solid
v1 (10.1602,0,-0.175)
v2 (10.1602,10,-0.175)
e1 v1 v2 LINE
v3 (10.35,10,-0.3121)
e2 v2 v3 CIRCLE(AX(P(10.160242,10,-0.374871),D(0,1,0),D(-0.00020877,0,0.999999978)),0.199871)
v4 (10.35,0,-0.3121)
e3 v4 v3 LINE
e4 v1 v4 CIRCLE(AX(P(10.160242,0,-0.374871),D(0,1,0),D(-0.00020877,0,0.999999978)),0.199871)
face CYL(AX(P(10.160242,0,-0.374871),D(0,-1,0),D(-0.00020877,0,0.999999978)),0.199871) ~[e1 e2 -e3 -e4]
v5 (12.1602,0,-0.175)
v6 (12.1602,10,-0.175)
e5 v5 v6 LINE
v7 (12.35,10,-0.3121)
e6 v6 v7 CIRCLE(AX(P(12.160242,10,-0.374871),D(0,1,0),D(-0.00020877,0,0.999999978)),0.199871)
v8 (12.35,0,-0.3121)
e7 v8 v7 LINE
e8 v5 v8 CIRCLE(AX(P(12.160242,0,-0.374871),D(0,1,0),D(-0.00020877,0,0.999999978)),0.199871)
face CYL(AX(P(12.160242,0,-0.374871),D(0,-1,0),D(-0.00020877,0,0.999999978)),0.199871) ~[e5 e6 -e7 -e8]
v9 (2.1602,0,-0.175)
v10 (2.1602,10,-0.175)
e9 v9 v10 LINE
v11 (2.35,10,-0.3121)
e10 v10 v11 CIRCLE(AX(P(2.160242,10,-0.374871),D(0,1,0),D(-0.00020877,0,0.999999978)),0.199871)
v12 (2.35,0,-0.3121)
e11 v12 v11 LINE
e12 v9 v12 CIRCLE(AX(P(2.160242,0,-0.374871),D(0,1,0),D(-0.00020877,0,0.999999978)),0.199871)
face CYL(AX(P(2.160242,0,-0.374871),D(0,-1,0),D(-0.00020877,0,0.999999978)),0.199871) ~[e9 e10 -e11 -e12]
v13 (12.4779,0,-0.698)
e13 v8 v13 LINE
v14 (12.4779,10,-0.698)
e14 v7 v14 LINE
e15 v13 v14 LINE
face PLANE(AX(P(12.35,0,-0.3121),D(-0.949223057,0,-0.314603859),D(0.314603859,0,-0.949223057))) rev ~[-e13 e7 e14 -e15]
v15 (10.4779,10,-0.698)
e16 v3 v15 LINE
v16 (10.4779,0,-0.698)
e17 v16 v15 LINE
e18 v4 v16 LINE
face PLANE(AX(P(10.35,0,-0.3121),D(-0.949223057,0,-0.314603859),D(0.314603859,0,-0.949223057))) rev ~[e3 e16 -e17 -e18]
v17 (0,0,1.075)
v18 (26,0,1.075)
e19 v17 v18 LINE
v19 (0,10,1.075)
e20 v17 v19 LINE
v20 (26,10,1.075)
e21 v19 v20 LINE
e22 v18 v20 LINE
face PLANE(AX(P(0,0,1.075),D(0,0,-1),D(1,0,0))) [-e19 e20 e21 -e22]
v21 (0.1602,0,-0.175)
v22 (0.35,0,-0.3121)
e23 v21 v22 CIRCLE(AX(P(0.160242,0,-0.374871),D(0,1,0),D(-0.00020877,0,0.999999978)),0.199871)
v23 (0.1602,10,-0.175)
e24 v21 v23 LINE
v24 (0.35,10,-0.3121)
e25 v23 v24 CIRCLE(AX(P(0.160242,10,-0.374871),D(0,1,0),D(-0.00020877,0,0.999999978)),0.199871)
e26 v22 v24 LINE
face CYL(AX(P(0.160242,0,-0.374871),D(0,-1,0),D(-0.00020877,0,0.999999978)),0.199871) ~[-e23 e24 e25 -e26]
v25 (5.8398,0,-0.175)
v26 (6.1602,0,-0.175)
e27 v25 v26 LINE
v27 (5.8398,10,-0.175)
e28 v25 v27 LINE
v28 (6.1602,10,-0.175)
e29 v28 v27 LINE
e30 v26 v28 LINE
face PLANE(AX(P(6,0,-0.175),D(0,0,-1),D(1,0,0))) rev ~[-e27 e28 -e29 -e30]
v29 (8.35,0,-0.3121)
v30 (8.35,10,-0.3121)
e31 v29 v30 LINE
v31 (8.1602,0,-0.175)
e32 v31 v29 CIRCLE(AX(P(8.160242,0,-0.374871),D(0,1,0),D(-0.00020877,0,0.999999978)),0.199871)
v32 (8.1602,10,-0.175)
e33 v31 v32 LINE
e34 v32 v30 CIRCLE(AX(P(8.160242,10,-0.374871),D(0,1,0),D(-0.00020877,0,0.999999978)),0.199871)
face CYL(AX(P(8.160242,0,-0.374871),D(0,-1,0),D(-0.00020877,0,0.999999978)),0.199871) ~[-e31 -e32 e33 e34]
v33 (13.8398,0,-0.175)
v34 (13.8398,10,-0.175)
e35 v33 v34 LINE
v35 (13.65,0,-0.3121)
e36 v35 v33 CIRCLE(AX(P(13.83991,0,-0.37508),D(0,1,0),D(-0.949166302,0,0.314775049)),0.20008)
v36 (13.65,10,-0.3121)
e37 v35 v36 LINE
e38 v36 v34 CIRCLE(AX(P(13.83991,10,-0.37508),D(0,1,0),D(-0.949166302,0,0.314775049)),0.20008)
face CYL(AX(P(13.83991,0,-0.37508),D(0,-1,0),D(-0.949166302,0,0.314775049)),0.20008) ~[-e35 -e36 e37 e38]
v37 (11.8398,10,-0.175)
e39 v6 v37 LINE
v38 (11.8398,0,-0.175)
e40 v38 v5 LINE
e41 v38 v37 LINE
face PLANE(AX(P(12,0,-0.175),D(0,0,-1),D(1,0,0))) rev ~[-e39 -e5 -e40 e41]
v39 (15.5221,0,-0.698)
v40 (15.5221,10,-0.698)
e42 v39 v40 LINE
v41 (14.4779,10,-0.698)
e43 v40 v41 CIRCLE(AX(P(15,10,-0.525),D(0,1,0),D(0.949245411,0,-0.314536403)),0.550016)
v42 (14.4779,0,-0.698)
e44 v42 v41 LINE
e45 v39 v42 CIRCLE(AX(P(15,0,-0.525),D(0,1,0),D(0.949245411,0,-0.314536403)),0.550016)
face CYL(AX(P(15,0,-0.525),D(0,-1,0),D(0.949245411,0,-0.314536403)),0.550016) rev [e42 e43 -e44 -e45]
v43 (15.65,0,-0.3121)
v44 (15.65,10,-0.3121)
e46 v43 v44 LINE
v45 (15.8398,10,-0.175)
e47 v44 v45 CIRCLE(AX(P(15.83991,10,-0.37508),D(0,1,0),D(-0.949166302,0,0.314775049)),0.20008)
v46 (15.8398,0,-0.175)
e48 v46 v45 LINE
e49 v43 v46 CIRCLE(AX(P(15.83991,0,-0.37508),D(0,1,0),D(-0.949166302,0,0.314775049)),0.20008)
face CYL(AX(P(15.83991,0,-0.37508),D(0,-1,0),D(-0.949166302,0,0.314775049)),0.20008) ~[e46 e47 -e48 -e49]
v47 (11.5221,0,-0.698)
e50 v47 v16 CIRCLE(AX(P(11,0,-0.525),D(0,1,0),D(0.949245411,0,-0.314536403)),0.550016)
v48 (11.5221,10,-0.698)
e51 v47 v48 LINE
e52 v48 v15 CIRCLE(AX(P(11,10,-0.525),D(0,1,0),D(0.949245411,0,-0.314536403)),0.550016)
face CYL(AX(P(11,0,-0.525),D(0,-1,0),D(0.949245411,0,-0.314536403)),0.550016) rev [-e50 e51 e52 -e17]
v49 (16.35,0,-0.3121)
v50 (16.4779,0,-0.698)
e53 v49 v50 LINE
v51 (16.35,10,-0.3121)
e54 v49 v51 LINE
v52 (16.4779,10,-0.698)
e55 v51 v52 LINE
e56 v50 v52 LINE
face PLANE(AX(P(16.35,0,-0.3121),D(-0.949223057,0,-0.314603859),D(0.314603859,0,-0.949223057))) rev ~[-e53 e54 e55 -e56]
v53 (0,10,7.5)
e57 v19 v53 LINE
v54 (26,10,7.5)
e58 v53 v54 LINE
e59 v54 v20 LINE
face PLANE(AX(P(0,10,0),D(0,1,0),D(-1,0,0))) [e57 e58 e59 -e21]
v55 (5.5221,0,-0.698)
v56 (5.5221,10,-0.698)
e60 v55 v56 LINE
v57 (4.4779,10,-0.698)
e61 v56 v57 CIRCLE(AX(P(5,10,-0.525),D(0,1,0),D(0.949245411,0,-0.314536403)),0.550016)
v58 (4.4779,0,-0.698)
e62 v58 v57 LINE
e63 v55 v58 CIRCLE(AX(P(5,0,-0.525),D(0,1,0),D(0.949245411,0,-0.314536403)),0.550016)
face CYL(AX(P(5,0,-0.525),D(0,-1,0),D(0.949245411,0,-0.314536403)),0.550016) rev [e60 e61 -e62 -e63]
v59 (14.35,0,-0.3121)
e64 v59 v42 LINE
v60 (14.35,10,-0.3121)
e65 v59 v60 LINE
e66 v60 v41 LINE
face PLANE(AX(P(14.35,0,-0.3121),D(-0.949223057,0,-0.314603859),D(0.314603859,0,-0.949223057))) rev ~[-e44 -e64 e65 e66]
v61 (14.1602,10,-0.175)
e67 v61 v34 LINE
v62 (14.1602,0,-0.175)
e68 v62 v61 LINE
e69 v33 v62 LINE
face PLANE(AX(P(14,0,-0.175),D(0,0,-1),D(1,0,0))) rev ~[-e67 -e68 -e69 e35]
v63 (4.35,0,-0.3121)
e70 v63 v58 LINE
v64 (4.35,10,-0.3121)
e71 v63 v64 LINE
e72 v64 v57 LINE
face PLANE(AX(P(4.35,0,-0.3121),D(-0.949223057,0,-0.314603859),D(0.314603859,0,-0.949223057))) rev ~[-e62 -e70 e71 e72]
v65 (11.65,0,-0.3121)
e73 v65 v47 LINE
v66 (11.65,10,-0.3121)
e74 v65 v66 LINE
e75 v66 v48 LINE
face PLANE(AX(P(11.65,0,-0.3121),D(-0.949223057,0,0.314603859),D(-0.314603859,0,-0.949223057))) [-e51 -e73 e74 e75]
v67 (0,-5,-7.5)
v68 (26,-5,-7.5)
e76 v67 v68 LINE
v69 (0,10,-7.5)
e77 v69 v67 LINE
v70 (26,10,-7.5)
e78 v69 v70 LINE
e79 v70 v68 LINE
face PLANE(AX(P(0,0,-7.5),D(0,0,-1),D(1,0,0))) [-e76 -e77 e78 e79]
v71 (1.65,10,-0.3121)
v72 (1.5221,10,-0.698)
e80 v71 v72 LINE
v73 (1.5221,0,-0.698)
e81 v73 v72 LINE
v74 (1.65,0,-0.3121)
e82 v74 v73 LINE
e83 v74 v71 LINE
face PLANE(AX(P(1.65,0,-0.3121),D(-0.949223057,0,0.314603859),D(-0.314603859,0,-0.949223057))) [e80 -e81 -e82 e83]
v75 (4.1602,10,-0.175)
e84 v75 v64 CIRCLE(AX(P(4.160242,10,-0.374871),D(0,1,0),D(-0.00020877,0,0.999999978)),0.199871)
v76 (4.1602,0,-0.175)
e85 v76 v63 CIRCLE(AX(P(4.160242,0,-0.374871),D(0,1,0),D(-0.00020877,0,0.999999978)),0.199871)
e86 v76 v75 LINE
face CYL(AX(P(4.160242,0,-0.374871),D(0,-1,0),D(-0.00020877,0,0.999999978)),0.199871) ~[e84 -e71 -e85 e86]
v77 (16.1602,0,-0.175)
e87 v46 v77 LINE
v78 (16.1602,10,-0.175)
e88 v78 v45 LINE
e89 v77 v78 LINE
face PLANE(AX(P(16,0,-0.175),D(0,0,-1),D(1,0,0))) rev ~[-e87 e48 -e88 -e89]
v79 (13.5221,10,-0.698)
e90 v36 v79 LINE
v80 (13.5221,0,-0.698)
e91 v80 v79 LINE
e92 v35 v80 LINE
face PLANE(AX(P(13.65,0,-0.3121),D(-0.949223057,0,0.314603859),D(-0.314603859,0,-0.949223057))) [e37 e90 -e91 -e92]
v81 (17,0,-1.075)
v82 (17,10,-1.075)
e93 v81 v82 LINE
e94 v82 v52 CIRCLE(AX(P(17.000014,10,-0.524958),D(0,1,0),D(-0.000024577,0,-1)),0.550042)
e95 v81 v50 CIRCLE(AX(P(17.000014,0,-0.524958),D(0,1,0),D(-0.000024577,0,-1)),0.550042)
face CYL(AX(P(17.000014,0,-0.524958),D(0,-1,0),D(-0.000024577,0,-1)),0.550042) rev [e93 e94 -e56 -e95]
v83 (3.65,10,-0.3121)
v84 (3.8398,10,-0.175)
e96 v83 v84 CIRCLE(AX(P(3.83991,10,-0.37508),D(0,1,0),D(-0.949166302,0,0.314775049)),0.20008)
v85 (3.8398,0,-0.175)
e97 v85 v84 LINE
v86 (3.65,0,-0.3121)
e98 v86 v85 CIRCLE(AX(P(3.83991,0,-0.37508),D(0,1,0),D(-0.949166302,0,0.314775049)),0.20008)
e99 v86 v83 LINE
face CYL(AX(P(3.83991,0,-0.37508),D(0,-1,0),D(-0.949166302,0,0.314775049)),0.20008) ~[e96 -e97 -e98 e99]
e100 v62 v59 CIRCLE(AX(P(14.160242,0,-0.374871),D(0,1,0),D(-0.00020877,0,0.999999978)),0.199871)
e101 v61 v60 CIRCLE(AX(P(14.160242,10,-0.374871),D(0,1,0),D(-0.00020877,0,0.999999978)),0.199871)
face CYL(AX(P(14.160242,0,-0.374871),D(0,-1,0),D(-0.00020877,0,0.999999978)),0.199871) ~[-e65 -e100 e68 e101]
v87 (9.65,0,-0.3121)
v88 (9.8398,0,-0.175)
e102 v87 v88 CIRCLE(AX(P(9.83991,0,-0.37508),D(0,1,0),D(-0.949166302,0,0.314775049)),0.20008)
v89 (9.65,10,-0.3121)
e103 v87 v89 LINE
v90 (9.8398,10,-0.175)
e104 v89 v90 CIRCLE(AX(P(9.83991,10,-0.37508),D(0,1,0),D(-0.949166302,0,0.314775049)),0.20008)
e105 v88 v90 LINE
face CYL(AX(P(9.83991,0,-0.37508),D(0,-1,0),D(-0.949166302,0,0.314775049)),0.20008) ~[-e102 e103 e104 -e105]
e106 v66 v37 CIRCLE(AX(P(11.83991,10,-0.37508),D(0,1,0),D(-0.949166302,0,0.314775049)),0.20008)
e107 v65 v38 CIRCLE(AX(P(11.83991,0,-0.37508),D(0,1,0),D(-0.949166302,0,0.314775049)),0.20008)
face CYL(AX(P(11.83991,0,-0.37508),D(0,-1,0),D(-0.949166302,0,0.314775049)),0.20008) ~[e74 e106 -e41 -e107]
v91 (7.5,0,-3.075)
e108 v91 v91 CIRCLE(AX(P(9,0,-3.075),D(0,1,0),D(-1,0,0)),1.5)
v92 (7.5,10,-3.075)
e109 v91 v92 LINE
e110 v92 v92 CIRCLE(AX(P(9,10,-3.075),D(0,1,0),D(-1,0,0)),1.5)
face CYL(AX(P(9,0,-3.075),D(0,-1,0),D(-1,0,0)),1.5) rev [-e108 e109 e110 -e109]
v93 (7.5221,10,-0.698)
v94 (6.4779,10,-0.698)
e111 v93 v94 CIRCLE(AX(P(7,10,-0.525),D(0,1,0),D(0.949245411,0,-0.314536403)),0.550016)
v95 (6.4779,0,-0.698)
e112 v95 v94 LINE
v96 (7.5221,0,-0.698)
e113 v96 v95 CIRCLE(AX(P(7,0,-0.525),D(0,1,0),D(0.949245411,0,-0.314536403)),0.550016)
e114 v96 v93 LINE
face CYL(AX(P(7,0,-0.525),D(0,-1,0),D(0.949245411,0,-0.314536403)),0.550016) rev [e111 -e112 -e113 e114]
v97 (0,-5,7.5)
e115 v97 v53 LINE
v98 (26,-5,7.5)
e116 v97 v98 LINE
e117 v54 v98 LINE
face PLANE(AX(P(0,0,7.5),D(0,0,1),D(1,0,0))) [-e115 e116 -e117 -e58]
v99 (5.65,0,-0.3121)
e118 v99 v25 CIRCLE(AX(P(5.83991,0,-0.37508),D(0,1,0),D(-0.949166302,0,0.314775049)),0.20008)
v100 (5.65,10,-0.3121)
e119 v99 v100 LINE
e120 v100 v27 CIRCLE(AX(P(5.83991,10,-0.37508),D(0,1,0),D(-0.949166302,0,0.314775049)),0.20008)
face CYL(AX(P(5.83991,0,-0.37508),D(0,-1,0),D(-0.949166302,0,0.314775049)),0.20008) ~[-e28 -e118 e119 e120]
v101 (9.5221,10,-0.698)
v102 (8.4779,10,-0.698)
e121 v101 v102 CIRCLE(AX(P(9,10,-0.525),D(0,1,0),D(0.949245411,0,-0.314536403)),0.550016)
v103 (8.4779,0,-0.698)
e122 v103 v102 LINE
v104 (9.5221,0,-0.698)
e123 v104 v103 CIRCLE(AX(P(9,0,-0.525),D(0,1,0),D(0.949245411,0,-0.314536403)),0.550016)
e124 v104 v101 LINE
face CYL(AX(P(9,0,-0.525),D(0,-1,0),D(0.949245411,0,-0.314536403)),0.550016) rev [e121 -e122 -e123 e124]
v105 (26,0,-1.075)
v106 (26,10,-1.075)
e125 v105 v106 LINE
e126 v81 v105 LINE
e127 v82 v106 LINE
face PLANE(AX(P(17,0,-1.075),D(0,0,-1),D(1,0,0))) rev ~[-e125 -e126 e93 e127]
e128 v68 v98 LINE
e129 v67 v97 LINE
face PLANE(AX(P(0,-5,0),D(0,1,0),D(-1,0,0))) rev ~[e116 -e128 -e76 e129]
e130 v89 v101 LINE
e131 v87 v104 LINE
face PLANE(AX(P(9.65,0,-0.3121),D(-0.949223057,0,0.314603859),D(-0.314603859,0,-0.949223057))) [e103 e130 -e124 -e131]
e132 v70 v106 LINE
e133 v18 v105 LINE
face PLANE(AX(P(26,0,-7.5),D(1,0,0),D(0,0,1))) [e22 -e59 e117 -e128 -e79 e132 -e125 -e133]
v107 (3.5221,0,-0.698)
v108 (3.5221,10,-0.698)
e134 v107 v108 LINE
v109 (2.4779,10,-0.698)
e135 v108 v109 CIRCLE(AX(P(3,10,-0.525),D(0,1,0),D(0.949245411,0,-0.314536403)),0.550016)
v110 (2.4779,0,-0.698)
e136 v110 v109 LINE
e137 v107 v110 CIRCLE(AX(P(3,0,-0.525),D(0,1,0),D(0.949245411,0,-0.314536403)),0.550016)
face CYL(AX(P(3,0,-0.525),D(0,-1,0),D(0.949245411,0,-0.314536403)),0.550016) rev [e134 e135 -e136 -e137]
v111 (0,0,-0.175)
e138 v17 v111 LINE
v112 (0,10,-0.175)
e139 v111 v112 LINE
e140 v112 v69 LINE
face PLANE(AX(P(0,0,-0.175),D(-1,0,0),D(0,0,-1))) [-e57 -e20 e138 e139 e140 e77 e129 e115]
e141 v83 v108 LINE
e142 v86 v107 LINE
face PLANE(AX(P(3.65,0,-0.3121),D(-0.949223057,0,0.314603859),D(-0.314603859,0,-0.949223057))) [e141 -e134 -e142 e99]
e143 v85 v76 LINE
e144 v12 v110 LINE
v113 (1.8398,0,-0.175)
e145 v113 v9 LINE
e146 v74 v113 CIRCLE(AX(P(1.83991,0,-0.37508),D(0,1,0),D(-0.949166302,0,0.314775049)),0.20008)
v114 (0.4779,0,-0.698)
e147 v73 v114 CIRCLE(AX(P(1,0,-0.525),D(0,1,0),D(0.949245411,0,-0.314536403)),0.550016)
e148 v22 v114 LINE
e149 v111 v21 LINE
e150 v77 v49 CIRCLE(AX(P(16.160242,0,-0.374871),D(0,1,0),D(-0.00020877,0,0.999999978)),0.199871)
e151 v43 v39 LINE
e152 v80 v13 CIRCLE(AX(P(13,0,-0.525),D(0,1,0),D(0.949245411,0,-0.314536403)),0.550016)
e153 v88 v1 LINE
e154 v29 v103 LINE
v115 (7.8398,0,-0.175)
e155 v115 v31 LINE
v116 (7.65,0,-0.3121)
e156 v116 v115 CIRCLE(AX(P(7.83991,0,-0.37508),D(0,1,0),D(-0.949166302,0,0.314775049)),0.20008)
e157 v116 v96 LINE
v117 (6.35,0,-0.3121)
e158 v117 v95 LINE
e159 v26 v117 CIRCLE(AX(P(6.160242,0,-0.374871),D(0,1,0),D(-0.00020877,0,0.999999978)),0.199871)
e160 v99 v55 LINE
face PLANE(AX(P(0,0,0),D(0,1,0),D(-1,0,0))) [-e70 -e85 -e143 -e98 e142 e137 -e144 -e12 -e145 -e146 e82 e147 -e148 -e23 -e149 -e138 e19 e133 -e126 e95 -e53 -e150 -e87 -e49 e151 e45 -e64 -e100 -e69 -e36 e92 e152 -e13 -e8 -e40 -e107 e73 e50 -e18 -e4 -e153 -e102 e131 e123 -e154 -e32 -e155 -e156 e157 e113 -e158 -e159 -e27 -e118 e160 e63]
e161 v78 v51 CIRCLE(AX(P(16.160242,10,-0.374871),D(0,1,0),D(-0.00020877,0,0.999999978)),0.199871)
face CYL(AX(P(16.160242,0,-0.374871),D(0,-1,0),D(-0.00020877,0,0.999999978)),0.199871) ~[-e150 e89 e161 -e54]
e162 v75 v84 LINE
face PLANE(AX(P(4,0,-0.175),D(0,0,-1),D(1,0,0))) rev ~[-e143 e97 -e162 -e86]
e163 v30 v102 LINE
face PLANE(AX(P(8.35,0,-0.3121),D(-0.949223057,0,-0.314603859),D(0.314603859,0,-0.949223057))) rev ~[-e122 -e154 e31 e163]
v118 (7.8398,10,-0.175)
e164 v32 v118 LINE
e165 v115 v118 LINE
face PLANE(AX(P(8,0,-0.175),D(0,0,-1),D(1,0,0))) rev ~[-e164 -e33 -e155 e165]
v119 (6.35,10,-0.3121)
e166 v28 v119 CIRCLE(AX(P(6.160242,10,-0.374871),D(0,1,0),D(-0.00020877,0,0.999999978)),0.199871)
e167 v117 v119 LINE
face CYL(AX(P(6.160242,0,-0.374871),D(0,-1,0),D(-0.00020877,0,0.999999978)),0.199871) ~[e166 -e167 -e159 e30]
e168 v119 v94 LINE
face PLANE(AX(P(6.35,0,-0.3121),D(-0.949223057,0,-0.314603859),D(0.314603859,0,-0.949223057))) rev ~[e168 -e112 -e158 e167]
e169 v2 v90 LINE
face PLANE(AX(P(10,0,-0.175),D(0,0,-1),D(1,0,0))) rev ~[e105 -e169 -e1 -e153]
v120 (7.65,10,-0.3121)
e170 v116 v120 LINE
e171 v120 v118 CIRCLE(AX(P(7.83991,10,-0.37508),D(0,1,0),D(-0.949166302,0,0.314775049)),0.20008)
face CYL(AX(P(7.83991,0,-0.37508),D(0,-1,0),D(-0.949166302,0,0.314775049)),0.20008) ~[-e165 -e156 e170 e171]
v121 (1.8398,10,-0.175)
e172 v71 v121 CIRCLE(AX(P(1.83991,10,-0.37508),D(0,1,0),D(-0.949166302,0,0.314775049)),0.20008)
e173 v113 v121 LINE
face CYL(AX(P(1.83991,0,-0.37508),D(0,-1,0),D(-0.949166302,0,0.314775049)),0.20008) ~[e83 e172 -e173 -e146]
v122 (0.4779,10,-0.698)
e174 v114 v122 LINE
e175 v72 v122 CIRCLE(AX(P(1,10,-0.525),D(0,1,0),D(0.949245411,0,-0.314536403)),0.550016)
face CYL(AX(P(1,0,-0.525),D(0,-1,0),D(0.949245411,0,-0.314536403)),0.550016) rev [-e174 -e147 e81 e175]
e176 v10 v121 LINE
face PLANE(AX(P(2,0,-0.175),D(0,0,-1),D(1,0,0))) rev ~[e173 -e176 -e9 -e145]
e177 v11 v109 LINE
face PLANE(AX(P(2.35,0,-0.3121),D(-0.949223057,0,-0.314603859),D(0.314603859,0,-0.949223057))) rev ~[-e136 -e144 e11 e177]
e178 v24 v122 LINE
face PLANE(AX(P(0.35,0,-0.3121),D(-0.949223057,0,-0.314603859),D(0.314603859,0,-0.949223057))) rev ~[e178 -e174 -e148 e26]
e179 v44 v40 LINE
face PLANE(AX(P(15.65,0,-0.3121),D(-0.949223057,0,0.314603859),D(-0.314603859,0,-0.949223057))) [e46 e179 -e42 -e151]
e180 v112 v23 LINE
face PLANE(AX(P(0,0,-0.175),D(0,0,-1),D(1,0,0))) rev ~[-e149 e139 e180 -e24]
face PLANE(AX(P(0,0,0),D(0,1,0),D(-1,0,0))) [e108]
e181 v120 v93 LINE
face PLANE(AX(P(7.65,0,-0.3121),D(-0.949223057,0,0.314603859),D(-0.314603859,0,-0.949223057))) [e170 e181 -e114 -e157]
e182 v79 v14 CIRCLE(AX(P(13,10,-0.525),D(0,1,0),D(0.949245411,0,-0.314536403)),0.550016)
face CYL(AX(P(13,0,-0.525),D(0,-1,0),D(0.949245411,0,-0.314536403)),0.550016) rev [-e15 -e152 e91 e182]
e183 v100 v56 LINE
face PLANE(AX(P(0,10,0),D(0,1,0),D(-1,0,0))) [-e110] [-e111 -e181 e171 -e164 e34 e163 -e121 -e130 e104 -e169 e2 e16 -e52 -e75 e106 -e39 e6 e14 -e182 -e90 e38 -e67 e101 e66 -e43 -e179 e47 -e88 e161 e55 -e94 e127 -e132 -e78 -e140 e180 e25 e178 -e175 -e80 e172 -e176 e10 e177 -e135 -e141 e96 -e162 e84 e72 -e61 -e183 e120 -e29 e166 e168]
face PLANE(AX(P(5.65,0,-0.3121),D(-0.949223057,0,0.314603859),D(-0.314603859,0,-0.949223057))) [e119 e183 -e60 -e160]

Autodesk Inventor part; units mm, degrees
ref_plane "YZ Plane" through (0, 0, 0) normal (1, 0, 0) x (0, 1, 0)
ref_plane "XZ Plane" through (0, 0, 0) normal (0, 1, 0) x (-1, 0, 0)
ref_plane "XY Plane" through (0, 0, 0) normal (0, 0, 1) x (1, 0, 0)
sketch "Sketch1" plane through (0, 0, 0) normal (0, 1, 0) x (-1, 0, 0)
  line L0 (0, 0) -> (0, -1.075)
  line L1 (0, 0) -> (0, 1.075) construction
  line L2 (0, -1.075) -> (-26, -1.075) construction
  line L3 (0, 1.075) -> (-26, 1.075)
  line L4 (0, 1.075) -> (0, 7.5) construction
  line L5 (0, -1.075) -> (0, -7.5) construction
  line L6 (-26, -1.075) -> (-26, 1.075)
  line L7 (0, 1.075) -> (0, 7.5)
  line L8 (0, 7.5) -> (-26, 7.5)
  line L9 (-26, 7.5) -> (-26, 1.075)
  line L10 (0, -7.5) -> (-26, -7.5)
  line L11 (-26, -7.5) -> (-26, -1.075)
  line L12 (1, -0.525) -> (1, 1.075) construction
  arc A0 (-1.5221, -0.698) -> (-0.4779, -0.698) centre (-1, -0.525) ccw
  line L13 (0, -0.175) -> (-0.1602, -0.175)
  line L14 (-0.35, -0.3121) -> (-0.4779, -0.698)
  line L15 (-1, -0.525) -> (1, -0.525) construction
  line L16 (0, -0.525) -> (0, -0.175) construction
  arc A1 (-0.1602, -0.175) -> (-0.35, -0.3121) centre (-0.1602, -0.375) ccw
  line L17 (-1, -0.525) -> (-1, 0) construction
  line L18 (-1, -0.525) -> (-1, 0.025) construction
  line L19 (-2, -0.175) -> (-1.8398, -0.175)
  line L20 (-1.65, -0.3121) -> (-1.5221, -0.698)
  arc A2 (-1.65, -0.3121) -> (-1.8398, -0.175) centre (-1.8398, -0.375) ccw
  line L21 (-2, -0.175) -> (-2.1602, -0.175)
  arc A3 (-2.1602, -0.175) -> (-2.35, -0.3121) centre (-2.1602, -0.375) ccw
  line L22 (-2.35, -0.3121) -> (-2.4779, -0.698)
  arc A4 (-3.5221, -0.698) -> (-2.4779, -0.698) centre (-3, -0.525) ccw
  line L23 (-3.65, -0.3121) -> (-3.5221, -0.698)
  arc A5 (-3.65, -0.3121) -> (-3.8398, -0.175) centre (-3.8398, -0.375) ccw
  line L24 (-4, -0.175) -> (-3.8398, -0.175)
  line L25 (-4, -0.175) -> (-4.1602, -0.175)
  arc A6 (-4.1602, -0.175) -> (-4.35, -0.3121) centre (-4.1602, -0.375) ccw
  line L26 (-4.35, -0.3121) -> (-4.4779, -0.698)
  arc A7 (-5.5221, -0.698) -> (-4.4779, -0.698) centre (-5, -0.525) ccw
  line L27 (-5.65, -0.3121) -> (-5.5221, -0.698)
  arc A8 (-5.65, -0.3121) -> (-5.8398, -0.175) centre (-5.8398, -0.375) ccw
  line L28 (-6, -0.175) -> (-5.8398, -0.175)
  line L29 (-6, -0.175) -> (-6.1602, -0.175)
  arc A9 (-6.1602, -0.175) -> (-6.35, -0.3121) centre (-6.1602, -0.375) ccw
  line L30 (-6.35, -0.3121) -> (-6.4779, -0.698)
  arc A10 (-7.5221, -0.698) -> (-6.4779, -0.698) centre (-7, -0.525) ccw
  line L31 (-7.65, -0.3121) -> (-7.5221, -0.698)
  arc A11 (-7.65, -0.3121) -> (-7.8398, -0.175) centre (-7.8398, -0.375) ccw
  line L32 (-8, -0.175) -> (-7.8398, -0.175)
  line L33 (-8, -0.175) -> (-8.1602, -0.175)
  arc A12 (-8.1602, -0.175) -> (-8.35, -0.3121) centre (-8.1602, -0.375) ccw
  line L34 (-8.35, -0.3121) -> (-8.4779, -0.698)
  arc A13 (-9.5221, -0.698) -> (-8.4779, -0.698) centre (-9, -0.525) ccw
  line L35 (-9.65, -0.3121) -> (-9.5221, -0.698)
  arc A14 (-9.65, -0.3121) -> (-9.8398, -0.175) centre (-9.8398, -0.375) ccw
  line L36 (-10, -0.175) -> (-9.8398, -0.175)
  line L37 (-10, -0.175) -> (-10.1602, -0.175)
  arc A15 (-10.1602, -0.175) -> (-10.35, -0.3121) centre (-10.1602, -0.375) ccw
  line L38 (-10.35, -0.3121) -> (-10.4779, -0.698)
  arc A16 (-11.5221, -0.698) -> (-10.4779, -0.698) centre (-11, -0.525) ccw
  line L39 (-11.65, -0.3121) -> (-11.5221, -0.698)
  arc A17 (-11.65, -0.3121) -> (-11.8398, -0.175) centre (-11.8398, -0.375) ccw
  line L40 (-12, -0.175) -> (-11.8398, -0.175)
  line L41 (-12, -0.175) -> (-12.1602, -0.175)
  arc A18 (-12.1602, -0.175) -> (-12.35, -0.3121) centre (-12.1602, -0.375) ccw
  line L42 (-12.35, -0.3121) -> (-12.4779, -0.698)
  arc A19 (-13.5221, -0.698) -> (-12.4779, -0.698) centre (-13, -0.525) ccw
  line L43 (-13.65, -0.3121) -> (-13.5221, -0.698)
  arc A20 (-13.65, -0.3121) -> (-13.8398, -0.175) centre (-13.8398, -0.375) ccw
  line L44 (-14, -0.175) -> (-13.8398, -0.175)
  line L45 (-14, -0.175) -> (-14.1602, -0.175)
  arc A21 (-14.1602, -0.175) -> (-14.35, -0.3121) centre (-14.1602, -0.375) ccw
  line L46 (-14.35, -0.3121) -> (-14.4779, -0.698)
  arc A22 (-15.5221, -0.698) -> (-14.4779, -0.698) centre (-15, -0.525) ccw
  line L47 (-15.65, -0.3121) -> (-15.5221, -0.698)
  arc A23 (-15.65, -0.3121) -> (-15.8398, -0.175) centre (-15.8398, -0.375) ccw
  line L48 (-16, -0.175) -> (-15.8398, -0.175)
  line L49 (-16, -0.175) -> (-16, -1.075) construction
  circle A24 centre (-9, -3.075) radius 1.5
  line L50 (-16, -1.075) -> (-26, -1.075)
  line L51 (0, -1.075) -> (0, -7.5)
  line L52 (-9, -3.075) -> (-9, -1.075) construction
  arc A25 (-17, -1.075) -> (-16.4779, -0.698) centre (-17, -0.525) ccw
  line L53 (-16.35, -0.3121) -> (-16.4779, -0.698)
  arc A26 (-16.1602, -0.175) -> (-16.35, -0.3121) centre (-16.1602, -0.375) ccw
  line L54 (-16, -0.175) -> (-16.1602, -0.175)
  line L55 (0, 0) -> (0, 1.075)
  point P0 (0, -0.5375)
  point P1 (-0.3046, -0.175)
  point P2 (-2.3046, -0.175)
  point P3 (-4.3046, -0.175)
  point P4 (-6.3046, -0.175)
  point P5 (-8.3046, -0.175)
  point P6 (-10.3046, -0.175)
  point P7 (-12.3046, -0.175)
  point P8 (-14.3046, -0.175)
  point P9 (-17.5221, -0.698)
  dimension "d7" = 26
  dimension "d8" = 15
  dimension "d10" = 1.6
  dimension "d12" = 1.1
  dimension "d13" = 2
  dimension "d14" = 1.25
  dimension "d17" = 0.35
  dimension "d18" = 0.2
  dimension "d21" = 2
  dimension "d26" = 3
  dimension "d28" = 2
  dimension "d29" = 9
extrude "Extrusion2" add sketch "Sketch1" along normal blind 10 contours L0 L51 L10 L11 L50 A25 L53 A26 L54 L48 A23 L47 A22 L46 A21 L45 L44 A20 L43 A19 L42 A18 L41 L40 A17 L39 A16 L38 A15 L37 L36 A14 L35 A13 L34 A12 L33 L32 A11 L31 A10 L30 A9 L29 L28 A8 L27 A7 L26 A6 L25 L24 A5 L23 A4 L22 A3 L21 L19 A2 L20 A0 L14 A1 L13 | L3 L9 L8 L7
extrude "Extrusion3" add sketch "Sketch1" against normal blind 5 contours L0 L13 A1 L14 A0 L20 A2 L19 L21 A3 L22 A4 L23 A5 L24 L25 A6 L26 A7 L27 A8 L28 L29 A9 L30 A10 L31 A11 L32 L33 A12 L34 A13 L35 A14 L36 L37 A15 L38 A16 L39 A17 L40 L41 A18 L42 A19 L43 A20 L44 L45 A21 L46 A22 L47 A23 L48 L54 A26 L53 A25 L50 L6 L3 L55 | L0 L51 L10 L11 L50 A25 L53 A26 L54 L48 A23 L47 A22 L46 A21 L45 L44 A20 L43 A19 L42 A18 L41 L40 A17 L39 A16 L38 A15 L37 L36 A14 L35 A13 L34 A12 L33 L32 A11 L31 A10 L30 A9 L29 L28 A8 L27 A7 L26 A6 L25 L24 A5 L23 A4 L22 A3 L21 L19 A2 L20 A0 L14 A1 L13 | L3 L9 L8 L7 | A24
properties part number "Y Axis Carriage"
